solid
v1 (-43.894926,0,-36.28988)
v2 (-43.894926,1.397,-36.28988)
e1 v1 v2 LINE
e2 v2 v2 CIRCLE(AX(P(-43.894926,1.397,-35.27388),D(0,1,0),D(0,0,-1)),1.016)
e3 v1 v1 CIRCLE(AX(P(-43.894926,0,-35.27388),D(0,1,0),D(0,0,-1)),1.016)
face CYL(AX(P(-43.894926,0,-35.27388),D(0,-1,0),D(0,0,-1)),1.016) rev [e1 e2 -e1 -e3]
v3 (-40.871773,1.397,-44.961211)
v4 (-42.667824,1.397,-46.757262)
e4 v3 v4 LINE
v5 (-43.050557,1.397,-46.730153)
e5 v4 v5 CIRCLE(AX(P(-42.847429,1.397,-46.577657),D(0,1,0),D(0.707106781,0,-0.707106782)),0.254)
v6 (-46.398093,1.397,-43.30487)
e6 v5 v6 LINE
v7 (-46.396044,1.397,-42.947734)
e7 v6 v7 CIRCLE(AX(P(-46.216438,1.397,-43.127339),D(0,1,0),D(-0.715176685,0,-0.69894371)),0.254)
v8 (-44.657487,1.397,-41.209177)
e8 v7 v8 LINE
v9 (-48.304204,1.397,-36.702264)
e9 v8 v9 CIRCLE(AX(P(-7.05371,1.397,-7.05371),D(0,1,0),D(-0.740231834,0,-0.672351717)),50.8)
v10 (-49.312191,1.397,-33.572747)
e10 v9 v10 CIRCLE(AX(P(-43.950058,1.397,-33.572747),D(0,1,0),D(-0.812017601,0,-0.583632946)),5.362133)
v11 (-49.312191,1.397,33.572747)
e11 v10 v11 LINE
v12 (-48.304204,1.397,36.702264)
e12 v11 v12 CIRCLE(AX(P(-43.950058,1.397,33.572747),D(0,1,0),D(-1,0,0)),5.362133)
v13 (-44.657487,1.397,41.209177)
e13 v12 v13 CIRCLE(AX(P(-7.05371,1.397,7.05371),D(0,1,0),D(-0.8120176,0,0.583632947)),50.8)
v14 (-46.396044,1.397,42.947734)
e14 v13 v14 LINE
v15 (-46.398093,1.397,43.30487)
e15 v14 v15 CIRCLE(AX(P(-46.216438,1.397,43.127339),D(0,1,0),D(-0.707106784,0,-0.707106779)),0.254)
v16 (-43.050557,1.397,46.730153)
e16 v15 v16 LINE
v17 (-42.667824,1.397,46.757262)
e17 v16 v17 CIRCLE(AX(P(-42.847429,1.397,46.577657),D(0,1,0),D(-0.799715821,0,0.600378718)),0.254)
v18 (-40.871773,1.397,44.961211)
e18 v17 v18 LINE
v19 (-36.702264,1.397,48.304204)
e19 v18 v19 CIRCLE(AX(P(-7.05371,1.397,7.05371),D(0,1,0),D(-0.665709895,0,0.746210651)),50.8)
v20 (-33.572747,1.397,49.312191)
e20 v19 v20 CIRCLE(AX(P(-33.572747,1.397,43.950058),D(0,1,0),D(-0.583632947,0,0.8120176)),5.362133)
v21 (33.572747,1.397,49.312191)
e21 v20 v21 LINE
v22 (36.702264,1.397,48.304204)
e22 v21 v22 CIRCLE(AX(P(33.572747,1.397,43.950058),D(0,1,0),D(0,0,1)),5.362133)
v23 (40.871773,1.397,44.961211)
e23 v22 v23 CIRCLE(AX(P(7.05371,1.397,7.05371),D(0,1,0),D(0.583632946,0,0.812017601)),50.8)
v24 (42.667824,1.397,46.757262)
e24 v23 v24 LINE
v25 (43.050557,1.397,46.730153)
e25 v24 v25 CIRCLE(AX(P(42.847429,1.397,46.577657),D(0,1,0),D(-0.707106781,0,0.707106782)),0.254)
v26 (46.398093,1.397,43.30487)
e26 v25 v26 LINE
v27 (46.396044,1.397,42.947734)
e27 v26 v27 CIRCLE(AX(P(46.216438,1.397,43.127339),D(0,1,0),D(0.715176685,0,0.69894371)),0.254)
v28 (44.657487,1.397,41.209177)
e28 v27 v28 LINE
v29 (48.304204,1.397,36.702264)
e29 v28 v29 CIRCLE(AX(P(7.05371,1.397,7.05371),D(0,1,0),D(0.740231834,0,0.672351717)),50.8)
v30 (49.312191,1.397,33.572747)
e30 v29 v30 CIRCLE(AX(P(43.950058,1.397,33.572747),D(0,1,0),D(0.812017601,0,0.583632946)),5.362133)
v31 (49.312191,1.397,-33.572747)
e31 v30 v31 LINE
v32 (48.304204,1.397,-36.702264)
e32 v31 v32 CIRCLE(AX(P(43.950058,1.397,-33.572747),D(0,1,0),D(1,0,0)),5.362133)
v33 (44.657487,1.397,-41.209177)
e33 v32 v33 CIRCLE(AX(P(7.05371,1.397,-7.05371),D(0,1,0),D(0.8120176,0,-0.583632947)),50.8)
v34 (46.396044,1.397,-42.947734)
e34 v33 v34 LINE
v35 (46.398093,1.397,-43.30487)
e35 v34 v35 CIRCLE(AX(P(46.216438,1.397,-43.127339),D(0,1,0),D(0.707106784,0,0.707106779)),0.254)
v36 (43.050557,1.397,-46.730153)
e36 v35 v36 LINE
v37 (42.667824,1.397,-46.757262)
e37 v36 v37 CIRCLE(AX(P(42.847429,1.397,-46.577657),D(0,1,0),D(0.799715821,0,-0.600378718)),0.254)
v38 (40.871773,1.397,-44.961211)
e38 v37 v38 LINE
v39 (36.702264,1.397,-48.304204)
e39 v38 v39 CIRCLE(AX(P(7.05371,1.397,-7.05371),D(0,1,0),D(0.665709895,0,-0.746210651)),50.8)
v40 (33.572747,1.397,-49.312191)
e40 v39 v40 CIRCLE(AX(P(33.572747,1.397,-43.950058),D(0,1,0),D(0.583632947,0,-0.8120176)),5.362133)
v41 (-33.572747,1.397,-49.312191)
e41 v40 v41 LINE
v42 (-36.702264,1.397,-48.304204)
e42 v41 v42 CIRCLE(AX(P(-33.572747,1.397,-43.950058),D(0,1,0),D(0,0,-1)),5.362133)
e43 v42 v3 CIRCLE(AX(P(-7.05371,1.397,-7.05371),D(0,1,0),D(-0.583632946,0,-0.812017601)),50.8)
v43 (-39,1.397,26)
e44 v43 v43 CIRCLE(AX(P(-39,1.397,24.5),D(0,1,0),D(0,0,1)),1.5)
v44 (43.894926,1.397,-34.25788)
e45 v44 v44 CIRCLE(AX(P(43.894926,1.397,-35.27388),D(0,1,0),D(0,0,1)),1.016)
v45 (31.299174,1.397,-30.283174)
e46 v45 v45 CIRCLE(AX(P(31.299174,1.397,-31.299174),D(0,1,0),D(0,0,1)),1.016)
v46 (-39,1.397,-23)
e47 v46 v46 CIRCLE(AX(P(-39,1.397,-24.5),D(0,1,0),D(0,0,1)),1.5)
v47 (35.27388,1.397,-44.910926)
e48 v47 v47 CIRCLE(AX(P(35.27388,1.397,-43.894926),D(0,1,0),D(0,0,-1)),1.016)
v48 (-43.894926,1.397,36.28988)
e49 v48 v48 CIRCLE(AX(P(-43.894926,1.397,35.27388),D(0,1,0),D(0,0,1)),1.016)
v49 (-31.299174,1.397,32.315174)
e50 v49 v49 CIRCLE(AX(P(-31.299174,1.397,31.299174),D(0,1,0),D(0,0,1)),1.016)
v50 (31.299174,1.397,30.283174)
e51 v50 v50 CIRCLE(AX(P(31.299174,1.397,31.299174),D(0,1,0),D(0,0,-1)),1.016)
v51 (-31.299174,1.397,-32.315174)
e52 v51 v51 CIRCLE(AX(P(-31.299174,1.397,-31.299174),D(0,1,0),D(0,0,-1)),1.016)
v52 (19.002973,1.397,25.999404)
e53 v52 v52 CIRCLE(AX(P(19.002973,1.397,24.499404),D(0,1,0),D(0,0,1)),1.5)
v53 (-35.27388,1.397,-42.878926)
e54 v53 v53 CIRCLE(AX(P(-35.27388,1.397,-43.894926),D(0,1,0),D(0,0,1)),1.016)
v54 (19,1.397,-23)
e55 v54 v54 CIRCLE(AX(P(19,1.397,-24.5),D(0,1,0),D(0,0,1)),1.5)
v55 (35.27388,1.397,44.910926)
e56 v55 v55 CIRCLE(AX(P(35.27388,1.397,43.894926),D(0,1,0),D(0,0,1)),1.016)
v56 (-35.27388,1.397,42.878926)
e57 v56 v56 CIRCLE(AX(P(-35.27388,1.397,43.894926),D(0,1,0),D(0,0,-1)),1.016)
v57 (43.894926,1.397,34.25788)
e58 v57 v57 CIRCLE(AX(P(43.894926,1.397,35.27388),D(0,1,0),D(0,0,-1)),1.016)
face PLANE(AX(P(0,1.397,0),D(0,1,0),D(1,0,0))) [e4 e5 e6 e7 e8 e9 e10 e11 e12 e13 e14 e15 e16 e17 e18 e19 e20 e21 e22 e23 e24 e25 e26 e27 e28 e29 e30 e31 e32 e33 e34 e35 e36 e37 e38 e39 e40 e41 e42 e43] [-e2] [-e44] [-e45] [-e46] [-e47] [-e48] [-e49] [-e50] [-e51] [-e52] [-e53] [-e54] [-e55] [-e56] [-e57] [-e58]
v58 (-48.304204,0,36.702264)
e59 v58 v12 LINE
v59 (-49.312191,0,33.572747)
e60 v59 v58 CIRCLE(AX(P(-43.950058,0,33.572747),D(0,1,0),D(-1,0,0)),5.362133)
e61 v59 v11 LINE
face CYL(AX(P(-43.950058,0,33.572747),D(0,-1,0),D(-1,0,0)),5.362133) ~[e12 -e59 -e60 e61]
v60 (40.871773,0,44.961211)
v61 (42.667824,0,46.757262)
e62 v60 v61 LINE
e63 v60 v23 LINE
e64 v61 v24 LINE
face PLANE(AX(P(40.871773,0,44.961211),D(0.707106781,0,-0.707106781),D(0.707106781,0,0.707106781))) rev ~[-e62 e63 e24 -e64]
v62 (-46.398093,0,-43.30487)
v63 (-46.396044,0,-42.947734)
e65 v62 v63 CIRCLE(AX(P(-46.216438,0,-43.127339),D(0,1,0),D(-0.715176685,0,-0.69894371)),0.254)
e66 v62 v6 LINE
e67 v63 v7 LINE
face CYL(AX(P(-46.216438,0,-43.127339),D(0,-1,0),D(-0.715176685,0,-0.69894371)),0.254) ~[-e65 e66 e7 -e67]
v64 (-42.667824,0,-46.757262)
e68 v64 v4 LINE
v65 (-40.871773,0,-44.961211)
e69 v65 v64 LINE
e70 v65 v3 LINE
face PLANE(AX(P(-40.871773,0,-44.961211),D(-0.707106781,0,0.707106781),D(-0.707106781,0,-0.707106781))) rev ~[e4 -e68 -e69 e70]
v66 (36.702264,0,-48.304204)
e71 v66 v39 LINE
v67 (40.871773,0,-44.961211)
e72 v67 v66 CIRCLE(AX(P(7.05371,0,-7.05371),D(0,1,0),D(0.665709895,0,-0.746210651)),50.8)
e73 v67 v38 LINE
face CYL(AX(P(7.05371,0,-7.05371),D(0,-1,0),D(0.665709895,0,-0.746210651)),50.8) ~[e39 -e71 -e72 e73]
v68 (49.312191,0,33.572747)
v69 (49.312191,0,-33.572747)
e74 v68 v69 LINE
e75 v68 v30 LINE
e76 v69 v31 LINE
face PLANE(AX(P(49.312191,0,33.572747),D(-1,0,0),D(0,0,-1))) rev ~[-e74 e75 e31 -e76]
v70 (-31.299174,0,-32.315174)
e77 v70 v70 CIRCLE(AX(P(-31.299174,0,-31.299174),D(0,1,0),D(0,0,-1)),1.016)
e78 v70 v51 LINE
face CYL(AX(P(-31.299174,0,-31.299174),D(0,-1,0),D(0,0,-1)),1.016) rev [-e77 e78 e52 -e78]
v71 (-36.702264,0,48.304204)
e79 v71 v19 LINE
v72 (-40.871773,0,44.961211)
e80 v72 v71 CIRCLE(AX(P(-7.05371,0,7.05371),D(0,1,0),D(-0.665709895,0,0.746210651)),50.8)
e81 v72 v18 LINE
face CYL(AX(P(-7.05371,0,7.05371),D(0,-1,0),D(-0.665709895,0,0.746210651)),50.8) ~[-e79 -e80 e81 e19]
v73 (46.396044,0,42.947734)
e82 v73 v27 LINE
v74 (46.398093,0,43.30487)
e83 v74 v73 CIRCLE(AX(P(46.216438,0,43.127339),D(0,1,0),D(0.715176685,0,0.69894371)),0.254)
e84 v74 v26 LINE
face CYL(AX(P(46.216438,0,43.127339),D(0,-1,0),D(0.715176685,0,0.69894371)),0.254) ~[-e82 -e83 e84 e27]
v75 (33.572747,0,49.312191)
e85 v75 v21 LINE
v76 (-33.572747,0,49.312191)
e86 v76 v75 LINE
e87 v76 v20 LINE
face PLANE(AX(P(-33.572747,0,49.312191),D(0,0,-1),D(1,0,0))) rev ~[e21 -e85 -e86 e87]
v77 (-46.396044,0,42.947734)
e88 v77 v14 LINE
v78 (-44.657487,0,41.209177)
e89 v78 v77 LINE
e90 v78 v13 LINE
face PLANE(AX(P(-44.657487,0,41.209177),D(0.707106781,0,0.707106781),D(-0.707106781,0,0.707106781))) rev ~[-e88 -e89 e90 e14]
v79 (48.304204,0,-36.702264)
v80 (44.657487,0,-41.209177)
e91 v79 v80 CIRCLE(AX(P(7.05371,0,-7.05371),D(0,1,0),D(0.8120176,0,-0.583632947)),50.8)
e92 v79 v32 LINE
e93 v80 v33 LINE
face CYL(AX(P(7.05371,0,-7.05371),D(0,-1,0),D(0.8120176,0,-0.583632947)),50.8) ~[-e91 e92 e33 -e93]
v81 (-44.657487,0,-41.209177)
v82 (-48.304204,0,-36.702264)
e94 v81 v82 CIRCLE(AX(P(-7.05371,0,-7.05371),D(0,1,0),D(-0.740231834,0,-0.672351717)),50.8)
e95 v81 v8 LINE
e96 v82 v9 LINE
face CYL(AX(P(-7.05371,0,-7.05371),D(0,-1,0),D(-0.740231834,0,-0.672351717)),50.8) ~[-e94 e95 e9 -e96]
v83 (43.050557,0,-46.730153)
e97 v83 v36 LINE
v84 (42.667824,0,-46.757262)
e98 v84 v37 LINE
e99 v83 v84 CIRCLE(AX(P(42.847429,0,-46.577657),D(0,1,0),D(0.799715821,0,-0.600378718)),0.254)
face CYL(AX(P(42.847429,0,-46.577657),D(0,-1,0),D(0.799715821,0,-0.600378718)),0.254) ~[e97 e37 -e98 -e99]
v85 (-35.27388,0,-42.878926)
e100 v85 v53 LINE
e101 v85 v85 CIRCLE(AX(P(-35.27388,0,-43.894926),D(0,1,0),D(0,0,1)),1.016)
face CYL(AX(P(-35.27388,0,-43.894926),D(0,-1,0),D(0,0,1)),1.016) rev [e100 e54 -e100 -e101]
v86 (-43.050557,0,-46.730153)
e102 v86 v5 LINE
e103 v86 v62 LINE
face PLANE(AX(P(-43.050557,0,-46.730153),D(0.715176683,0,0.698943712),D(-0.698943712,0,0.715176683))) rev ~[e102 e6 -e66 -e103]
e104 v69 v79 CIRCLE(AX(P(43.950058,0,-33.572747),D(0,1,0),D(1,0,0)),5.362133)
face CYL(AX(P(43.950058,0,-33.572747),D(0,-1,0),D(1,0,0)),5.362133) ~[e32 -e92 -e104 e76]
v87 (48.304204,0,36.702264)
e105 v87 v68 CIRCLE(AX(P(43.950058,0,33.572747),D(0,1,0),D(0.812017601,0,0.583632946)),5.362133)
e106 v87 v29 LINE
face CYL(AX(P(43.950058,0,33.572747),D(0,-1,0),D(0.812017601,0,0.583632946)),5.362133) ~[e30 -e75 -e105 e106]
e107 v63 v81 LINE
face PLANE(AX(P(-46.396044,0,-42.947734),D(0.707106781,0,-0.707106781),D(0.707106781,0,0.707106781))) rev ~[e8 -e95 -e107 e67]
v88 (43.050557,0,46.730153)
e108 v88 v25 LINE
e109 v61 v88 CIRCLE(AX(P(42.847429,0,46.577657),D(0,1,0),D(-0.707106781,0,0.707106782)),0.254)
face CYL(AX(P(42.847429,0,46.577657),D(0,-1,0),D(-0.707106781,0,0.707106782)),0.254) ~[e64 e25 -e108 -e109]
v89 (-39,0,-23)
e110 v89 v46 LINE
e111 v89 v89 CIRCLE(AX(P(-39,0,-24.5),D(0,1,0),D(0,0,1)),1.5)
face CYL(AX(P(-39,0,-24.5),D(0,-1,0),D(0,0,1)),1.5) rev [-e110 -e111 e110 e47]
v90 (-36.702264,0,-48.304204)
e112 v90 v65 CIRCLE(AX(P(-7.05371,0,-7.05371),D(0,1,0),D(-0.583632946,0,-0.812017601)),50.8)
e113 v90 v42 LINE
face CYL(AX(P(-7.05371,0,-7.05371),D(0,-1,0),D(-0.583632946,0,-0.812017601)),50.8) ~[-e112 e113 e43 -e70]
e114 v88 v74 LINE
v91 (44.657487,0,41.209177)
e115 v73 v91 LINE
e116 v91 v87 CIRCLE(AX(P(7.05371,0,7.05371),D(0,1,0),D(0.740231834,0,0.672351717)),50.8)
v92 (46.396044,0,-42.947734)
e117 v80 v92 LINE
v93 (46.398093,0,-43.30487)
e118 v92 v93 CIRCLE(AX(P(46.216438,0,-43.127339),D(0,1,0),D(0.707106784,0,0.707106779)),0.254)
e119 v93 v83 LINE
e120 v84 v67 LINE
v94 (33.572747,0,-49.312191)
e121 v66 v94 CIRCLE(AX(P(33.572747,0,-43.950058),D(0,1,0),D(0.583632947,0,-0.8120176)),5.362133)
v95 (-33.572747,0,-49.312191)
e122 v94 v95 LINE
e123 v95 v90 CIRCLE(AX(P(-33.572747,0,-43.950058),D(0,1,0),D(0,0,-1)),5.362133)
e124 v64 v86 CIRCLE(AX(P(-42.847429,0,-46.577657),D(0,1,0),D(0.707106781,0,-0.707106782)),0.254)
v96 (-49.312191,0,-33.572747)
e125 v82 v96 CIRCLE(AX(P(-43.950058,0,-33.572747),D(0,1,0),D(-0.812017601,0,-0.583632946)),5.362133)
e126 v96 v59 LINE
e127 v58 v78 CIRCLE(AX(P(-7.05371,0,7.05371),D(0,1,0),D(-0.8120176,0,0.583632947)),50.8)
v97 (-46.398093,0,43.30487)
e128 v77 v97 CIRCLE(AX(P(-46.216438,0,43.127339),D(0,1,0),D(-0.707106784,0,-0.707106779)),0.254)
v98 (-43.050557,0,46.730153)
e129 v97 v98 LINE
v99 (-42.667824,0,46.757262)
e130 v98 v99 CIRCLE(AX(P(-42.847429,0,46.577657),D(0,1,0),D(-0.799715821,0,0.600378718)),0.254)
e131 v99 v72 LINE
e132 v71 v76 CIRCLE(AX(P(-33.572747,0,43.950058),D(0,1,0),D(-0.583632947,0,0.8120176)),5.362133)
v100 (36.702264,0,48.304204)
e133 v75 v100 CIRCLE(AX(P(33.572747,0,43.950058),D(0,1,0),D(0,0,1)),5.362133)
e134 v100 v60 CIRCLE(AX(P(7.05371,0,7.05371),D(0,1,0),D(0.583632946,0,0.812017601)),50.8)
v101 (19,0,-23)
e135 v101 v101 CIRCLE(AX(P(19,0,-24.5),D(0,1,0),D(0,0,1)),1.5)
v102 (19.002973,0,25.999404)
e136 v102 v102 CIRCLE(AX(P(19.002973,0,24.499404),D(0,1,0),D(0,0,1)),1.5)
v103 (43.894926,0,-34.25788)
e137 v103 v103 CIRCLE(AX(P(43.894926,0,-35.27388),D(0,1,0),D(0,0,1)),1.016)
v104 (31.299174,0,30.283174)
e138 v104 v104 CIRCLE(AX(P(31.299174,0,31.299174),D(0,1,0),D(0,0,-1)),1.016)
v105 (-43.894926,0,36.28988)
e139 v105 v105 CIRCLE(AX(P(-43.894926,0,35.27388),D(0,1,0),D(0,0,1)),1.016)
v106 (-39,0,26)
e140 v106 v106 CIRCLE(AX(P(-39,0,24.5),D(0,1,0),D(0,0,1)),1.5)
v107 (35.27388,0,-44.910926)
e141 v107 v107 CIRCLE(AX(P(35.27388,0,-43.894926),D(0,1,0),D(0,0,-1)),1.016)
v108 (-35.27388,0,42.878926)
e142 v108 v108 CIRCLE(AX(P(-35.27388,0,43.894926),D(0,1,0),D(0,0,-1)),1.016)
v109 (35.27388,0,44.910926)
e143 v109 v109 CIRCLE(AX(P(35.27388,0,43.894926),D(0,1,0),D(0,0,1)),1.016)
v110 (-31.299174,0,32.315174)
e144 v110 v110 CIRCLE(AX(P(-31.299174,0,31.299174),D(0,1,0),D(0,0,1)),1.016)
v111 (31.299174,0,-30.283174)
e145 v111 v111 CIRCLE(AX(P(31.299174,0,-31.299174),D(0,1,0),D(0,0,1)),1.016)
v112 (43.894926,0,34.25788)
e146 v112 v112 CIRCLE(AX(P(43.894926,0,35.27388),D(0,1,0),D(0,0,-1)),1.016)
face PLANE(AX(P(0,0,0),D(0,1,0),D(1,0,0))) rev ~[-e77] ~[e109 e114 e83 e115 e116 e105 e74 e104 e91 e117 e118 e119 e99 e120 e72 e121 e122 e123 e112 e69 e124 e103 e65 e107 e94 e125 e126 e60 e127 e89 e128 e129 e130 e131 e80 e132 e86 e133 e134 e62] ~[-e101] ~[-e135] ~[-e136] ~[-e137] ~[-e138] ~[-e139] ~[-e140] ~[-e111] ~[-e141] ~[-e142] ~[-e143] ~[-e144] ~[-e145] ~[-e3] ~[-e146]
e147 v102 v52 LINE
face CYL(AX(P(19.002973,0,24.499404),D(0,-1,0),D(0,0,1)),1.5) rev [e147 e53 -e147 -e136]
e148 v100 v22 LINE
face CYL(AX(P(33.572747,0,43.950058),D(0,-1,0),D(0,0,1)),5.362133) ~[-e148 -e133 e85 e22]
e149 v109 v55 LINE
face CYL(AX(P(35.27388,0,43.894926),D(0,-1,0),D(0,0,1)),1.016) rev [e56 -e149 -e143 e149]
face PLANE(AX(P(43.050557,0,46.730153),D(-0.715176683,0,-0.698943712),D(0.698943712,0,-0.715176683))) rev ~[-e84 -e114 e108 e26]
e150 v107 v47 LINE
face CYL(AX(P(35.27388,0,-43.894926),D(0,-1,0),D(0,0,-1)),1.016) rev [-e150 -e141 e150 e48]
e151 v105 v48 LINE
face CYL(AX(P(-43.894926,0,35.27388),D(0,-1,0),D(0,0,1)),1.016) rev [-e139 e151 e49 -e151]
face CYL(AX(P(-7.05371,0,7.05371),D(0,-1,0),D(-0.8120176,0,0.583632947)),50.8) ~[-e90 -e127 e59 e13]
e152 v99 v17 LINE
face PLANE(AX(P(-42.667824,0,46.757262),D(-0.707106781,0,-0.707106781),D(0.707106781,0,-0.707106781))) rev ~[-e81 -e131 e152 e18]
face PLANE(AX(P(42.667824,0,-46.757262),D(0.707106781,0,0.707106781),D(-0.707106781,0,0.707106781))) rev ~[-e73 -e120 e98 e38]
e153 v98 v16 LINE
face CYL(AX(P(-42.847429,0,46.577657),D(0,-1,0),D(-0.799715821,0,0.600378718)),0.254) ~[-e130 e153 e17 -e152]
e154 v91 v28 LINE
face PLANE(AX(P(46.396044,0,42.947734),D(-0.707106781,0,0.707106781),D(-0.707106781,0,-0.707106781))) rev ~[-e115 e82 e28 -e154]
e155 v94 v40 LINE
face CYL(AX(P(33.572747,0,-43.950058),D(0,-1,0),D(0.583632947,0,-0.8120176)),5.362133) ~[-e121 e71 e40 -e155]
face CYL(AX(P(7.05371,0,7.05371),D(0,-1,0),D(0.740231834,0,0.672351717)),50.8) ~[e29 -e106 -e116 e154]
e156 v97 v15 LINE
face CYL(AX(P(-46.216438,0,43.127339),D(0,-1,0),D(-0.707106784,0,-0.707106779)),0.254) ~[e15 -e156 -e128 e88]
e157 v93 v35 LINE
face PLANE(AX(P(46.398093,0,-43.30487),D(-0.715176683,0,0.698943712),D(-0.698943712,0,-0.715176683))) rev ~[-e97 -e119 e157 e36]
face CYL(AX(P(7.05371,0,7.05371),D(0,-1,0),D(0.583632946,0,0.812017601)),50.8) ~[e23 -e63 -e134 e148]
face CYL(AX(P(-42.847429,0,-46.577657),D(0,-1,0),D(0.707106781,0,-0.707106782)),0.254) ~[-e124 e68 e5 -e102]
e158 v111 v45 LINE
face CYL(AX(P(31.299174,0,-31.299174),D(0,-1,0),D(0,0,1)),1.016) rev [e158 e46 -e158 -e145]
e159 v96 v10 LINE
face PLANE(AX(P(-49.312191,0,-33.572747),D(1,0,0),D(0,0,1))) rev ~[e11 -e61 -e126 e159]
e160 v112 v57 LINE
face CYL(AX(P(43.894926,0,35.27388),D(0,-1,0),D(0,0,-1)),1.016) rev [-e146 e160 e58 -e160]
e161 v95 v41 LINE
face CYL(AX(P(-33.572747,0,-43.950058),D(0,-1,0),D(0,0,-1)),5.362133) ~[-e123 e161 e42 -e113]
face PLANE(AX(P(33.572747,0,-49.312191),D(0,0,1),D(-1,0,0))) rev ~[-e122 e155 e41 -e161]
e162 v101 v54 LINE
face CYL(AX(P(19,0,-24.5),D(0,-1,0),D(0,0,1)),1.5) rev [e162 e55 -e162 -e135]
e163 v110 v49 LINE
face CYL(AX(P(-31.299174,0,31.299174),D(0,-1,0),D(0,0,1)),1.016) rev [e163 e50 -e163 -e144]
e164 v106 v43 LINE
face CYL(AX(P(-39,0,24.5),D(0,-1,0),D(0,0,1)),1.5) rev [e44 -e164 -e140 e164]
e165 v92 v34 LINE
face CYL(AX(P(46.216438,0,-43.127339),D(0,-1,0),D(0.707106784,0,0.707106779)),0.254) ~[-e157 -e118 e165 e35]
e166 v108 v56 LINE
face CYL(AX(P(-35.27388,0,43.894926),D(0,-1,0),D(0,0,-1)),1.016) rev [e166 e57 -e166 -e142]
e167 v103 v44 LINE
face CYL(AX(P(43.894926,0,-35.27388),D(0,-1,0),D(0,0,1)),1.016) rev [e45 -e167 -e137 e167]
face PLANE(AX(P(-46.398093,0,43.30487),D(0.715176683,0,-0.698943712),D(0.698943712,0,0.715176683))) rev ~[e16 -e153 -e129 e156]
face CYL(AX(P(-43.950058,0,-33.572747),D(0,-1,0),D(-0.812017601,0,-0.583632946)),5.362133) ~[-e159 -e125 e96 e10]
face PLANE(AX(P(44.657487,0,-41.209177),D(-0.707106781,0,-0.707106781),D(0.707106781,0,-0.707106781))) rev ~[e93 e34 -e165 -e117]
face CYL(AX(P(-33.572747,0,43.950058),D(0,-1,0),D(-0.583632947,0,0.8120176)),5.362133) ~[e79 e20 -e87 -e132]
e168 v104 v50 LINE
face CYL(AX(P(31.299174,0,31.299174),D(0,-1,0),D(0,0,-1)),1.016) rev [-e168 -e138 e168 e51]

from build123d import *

# Parameters (mm, degrees)
SKETCH1_R           = 1.016000002
SKETCH1_R_2         = 1.015999994
SKETCH1_R_3         = 1.016000004
SKETCH1_R_4         = 1.016000003
SKETCH1_R_5         = 1.5
BOSS_EXTRUDE1_DEPTH = 1.397


with BuildPart() as part:
    # Sketch1 → Boss-Extrude1 (new body)
    with BuildSketch(Plane(origin=(0, 0, 0), x_dir=(1, 0, 0), z_dir=(0, 1, 0))):
        with BuildLine():
            Line((-44.657487237, -41.209177315), (-46.396043566, -42.947733643))
            ThreePointArc((-46.396043566, -42.947733643), (-46.47043426, -43.125880979), (-46.398093321, -43.304870469))
            Line((-46.398093321, -43.304870469), (-43.050556902, -46.730153436))
            ThreePointArc((-43.050556902, -46.730153436), (-42.865374913, -46.831022486), (-42.667823962, -46.757262364))
            Line((-42.667823962, -46.757262364), (-40.871772737, -44.96121114))
            ThreePointArc((-40.871772737, -44.96121114), (-38.831009329, -46.687575031), (-36.702263747, -48.304204185))
            ThreePointArc((-36.702263747, -48.304204185), (-35.216668272, -49.053976946), (-33.572746514, -49.312190732))
            Line((-33.572746514, -49.312190732), (33.572746514, -49.312190732))
            ThreePointArc((33.572746514, -49.312190732), (35.216668272, -49.053976946), (36.702263747, -48.304204185))
            ThreePointArc((36.702263747, -48.304204185), (38.831009329, -46.687575031), (40.871772737, -44.96121114))
            Line((40.871772737, -44.96121114), (42.667823962, -46.757262364))
            ThreePointArc((42.667823962, -46.757262364), (42.865374913, -46.831022486), (43.050556902, -46.730153436))
            Line((43.050556902, -46.730153436), (46.398093321, -43.304870469))
            ThreePointArc((46.398093321, -43.304870469), (46.47043426, -43.125880979), (46.396043566, -42.947733643))
            Line((46.396043566, -42.947733643), (44.657487237, -41.209177315))
            ThreePointArc((44.657487237, -41.209177315), (46.545191327, -39.007785053), (48.304204175, -36.702263762))
            ThreePointArc((48.304204175, -36.702263762), (49.053976936, -35.216668286), (49.312190722, -33.572746527))
            Line((49.312190722, -33.572746527), (49.312190722, 33.572746527))
            ThreePointArc((49.312190722, 33.572746527), (49.053976936, 35.216668286), (48.304204175, 36.702263762))
            ThreePointArc((48.304204175, 36.702263762), (46.545191327, 39.007785053), (44.657487237, 41.209177315))
            Line((44.657487237, 41.209177315), (46.396043566, 42.947733643))
            ThreePointArc((46.396043566, 42.947733643), (46.47043426, 43.125880979), (46.398093321, 43.304870469))
            Line((46.398093321, 43.304870469), (43.050556902, 46.730153436))
            ThreePointArc((43.050556902, 46.730153436), (42.865374913, 46.831022486), (42.667823962, 46.757262364))
            Line((42.667823962, 46.757262364), (40.871772737, 44.96121114))
            ThreePointArc((40.871772737, 44.96121114), (38.831009329, 46.687575031), (36.702263747, 48.304204185))
            ThreePointArc((36.702263747, 48.304204185), (35.216668272, 49.053976946), (33.572746514, 49.312190732))
            Line((33.572746514, 49.312190732), (-33.572746514, 49.312190732))
            ThreePointArc((-33.572746514, 49.312190732), (-35.216668272, 49.053976946), (-36.702263747, 48.304204185))
            ThreePointArc((-36.702263747, 48.304204185), (-38.831009329, 46.687575031), (-40.871772737, 44.96121114))
            Line((-40.871772737, 44.96121114), (-42.667823962, 46.757262364))
            ThreePointArc((-42.667823962, 46.757262364), (-42.865374913, 46.831022486), (-43.050556902, 46.730153436))
            Line((-43.050556902, 46.730153436), (-46.398093321, 43.304870469))
            ThreePointArc((-46.398093321, 43.304870469), (-46.47043426, 43.125880979), (-46.396043566, 42.947733643))
            Line((-46.396043566, 42.947733643), (-44.657487237, 41.209177315))
            ThreePointArc((-44.657487237, 41.209177315), (-46.545191327, 39.007785053), (-48.304204175, 36.702263762))
            ThreePointArc((-48.304204175, 36.702263762), (-49.053976936, 35.216668286), (-49.312190722, 33.572746527))
            Line((-49.312190722, 33.572746527), (-49.312190722, -33.572746527))
            ThreePointArc((-49.312190722, -33.572746527), (-49.053976936, -35.216668286), (-48.304204175, -36.702263762))
            ThreePointArc((-48.304204175, -36.702263762), (-46.545191327, -39.007785053), (-44.657487237, -41.209177315))
        make_face()
        with Locations(Location((-35.273880312, -43.8949262, 0), (0, 0, 90))):
            Circle(SKETCH1_R, mode=Mode.SUBTRACT)
        with Locations(Location((-43.89492619, -35.273880325, 0), (0, 0, 270))):
            Circle(SKETCH1_R_2, mode=Mode.SUBTRACT)
        with Locations(Location((-31.299173987, -31.299173994, 0), (0, 0, 270))):
            Circle(SKETCH1_R, mode=Mode.SUBTRACT)
        with Locations(Location((43.89492619, -35.273880325, 0), (0, 0, 90))):
            Circle(SKETCH1_R_3, mode=Mode.SUBTRACT)
        with Locations(Location((35.273880312, -43.8949262, 0), (0, 0, 270))):
            Circle(SKETCH1_R_3, mode=Mode.SUBTRACT)
        with Locations(Location((31.299173987, -31.299173994, 0), (0, 0, 90))):
            Circle(SKETCH1_R, mode=Mode.SUBTRACT)
        with Locations(Location((-35.273880312, 43.8949262, 0), (0, 0, 270))):
            Circle(SKETCH1_R, mode=Mode.SUBTRACT)
        with Locations(Location((-31.299173987, 31.299173994, 0), (0, 0, 90))):
            Circle(SKETCH1_R, mode=Mode.SUBTRACT)
        with Locations(Location((-43.89492619, 35.273880325, 0), (0, 0, 90))):
            Circle(SKETCH1_R, mode=Mode.SUBTRACT)
        with Locations(Location((43.89492619, 35.273880325, 0), (0, 0, 270))):
            Circle(SKETCH1_R_4, mode=Mode.SUBTRACT)
        with Locations(Location((35.273880312, 43.8949262, 0), (0, 0, 90))):
            Circle(SKETCH1_R_3, mode=Mode.SUBTRACT)
        with Locations(Location((31.299173987, 31.299173994, 0), (0, 0, 270))):
            Circle(SKETCH1_R, mode=Mode.SUBTRACT)
        with Locations(Location((-39, 24.5, 0), (0, 0, 270))):
            Circle(SKETCH1_R_5, mode=Mode.SUBTRACT)
        with Locations(Location((19, 24.5, 0), (0, 0, 270))):
            Circle(SKETCH1_R_5, mode=Mode.SUBTRACT)
        with Locations(Location((19.002972949, -24.499403884, 0), (0, 0, 270))):
            Circle(SKETCH1_R_5, mode=Mode.SUBTRACT)
        with Locations(Location((-39, -24.5, 0), (0, 0, 270))):
            Circle(SKETCH1_R_5, mode=Mode.SUBTRACT)
    extrude(amount=BOSS_EXTRUDE1_DEPTH)


solid = part.part
